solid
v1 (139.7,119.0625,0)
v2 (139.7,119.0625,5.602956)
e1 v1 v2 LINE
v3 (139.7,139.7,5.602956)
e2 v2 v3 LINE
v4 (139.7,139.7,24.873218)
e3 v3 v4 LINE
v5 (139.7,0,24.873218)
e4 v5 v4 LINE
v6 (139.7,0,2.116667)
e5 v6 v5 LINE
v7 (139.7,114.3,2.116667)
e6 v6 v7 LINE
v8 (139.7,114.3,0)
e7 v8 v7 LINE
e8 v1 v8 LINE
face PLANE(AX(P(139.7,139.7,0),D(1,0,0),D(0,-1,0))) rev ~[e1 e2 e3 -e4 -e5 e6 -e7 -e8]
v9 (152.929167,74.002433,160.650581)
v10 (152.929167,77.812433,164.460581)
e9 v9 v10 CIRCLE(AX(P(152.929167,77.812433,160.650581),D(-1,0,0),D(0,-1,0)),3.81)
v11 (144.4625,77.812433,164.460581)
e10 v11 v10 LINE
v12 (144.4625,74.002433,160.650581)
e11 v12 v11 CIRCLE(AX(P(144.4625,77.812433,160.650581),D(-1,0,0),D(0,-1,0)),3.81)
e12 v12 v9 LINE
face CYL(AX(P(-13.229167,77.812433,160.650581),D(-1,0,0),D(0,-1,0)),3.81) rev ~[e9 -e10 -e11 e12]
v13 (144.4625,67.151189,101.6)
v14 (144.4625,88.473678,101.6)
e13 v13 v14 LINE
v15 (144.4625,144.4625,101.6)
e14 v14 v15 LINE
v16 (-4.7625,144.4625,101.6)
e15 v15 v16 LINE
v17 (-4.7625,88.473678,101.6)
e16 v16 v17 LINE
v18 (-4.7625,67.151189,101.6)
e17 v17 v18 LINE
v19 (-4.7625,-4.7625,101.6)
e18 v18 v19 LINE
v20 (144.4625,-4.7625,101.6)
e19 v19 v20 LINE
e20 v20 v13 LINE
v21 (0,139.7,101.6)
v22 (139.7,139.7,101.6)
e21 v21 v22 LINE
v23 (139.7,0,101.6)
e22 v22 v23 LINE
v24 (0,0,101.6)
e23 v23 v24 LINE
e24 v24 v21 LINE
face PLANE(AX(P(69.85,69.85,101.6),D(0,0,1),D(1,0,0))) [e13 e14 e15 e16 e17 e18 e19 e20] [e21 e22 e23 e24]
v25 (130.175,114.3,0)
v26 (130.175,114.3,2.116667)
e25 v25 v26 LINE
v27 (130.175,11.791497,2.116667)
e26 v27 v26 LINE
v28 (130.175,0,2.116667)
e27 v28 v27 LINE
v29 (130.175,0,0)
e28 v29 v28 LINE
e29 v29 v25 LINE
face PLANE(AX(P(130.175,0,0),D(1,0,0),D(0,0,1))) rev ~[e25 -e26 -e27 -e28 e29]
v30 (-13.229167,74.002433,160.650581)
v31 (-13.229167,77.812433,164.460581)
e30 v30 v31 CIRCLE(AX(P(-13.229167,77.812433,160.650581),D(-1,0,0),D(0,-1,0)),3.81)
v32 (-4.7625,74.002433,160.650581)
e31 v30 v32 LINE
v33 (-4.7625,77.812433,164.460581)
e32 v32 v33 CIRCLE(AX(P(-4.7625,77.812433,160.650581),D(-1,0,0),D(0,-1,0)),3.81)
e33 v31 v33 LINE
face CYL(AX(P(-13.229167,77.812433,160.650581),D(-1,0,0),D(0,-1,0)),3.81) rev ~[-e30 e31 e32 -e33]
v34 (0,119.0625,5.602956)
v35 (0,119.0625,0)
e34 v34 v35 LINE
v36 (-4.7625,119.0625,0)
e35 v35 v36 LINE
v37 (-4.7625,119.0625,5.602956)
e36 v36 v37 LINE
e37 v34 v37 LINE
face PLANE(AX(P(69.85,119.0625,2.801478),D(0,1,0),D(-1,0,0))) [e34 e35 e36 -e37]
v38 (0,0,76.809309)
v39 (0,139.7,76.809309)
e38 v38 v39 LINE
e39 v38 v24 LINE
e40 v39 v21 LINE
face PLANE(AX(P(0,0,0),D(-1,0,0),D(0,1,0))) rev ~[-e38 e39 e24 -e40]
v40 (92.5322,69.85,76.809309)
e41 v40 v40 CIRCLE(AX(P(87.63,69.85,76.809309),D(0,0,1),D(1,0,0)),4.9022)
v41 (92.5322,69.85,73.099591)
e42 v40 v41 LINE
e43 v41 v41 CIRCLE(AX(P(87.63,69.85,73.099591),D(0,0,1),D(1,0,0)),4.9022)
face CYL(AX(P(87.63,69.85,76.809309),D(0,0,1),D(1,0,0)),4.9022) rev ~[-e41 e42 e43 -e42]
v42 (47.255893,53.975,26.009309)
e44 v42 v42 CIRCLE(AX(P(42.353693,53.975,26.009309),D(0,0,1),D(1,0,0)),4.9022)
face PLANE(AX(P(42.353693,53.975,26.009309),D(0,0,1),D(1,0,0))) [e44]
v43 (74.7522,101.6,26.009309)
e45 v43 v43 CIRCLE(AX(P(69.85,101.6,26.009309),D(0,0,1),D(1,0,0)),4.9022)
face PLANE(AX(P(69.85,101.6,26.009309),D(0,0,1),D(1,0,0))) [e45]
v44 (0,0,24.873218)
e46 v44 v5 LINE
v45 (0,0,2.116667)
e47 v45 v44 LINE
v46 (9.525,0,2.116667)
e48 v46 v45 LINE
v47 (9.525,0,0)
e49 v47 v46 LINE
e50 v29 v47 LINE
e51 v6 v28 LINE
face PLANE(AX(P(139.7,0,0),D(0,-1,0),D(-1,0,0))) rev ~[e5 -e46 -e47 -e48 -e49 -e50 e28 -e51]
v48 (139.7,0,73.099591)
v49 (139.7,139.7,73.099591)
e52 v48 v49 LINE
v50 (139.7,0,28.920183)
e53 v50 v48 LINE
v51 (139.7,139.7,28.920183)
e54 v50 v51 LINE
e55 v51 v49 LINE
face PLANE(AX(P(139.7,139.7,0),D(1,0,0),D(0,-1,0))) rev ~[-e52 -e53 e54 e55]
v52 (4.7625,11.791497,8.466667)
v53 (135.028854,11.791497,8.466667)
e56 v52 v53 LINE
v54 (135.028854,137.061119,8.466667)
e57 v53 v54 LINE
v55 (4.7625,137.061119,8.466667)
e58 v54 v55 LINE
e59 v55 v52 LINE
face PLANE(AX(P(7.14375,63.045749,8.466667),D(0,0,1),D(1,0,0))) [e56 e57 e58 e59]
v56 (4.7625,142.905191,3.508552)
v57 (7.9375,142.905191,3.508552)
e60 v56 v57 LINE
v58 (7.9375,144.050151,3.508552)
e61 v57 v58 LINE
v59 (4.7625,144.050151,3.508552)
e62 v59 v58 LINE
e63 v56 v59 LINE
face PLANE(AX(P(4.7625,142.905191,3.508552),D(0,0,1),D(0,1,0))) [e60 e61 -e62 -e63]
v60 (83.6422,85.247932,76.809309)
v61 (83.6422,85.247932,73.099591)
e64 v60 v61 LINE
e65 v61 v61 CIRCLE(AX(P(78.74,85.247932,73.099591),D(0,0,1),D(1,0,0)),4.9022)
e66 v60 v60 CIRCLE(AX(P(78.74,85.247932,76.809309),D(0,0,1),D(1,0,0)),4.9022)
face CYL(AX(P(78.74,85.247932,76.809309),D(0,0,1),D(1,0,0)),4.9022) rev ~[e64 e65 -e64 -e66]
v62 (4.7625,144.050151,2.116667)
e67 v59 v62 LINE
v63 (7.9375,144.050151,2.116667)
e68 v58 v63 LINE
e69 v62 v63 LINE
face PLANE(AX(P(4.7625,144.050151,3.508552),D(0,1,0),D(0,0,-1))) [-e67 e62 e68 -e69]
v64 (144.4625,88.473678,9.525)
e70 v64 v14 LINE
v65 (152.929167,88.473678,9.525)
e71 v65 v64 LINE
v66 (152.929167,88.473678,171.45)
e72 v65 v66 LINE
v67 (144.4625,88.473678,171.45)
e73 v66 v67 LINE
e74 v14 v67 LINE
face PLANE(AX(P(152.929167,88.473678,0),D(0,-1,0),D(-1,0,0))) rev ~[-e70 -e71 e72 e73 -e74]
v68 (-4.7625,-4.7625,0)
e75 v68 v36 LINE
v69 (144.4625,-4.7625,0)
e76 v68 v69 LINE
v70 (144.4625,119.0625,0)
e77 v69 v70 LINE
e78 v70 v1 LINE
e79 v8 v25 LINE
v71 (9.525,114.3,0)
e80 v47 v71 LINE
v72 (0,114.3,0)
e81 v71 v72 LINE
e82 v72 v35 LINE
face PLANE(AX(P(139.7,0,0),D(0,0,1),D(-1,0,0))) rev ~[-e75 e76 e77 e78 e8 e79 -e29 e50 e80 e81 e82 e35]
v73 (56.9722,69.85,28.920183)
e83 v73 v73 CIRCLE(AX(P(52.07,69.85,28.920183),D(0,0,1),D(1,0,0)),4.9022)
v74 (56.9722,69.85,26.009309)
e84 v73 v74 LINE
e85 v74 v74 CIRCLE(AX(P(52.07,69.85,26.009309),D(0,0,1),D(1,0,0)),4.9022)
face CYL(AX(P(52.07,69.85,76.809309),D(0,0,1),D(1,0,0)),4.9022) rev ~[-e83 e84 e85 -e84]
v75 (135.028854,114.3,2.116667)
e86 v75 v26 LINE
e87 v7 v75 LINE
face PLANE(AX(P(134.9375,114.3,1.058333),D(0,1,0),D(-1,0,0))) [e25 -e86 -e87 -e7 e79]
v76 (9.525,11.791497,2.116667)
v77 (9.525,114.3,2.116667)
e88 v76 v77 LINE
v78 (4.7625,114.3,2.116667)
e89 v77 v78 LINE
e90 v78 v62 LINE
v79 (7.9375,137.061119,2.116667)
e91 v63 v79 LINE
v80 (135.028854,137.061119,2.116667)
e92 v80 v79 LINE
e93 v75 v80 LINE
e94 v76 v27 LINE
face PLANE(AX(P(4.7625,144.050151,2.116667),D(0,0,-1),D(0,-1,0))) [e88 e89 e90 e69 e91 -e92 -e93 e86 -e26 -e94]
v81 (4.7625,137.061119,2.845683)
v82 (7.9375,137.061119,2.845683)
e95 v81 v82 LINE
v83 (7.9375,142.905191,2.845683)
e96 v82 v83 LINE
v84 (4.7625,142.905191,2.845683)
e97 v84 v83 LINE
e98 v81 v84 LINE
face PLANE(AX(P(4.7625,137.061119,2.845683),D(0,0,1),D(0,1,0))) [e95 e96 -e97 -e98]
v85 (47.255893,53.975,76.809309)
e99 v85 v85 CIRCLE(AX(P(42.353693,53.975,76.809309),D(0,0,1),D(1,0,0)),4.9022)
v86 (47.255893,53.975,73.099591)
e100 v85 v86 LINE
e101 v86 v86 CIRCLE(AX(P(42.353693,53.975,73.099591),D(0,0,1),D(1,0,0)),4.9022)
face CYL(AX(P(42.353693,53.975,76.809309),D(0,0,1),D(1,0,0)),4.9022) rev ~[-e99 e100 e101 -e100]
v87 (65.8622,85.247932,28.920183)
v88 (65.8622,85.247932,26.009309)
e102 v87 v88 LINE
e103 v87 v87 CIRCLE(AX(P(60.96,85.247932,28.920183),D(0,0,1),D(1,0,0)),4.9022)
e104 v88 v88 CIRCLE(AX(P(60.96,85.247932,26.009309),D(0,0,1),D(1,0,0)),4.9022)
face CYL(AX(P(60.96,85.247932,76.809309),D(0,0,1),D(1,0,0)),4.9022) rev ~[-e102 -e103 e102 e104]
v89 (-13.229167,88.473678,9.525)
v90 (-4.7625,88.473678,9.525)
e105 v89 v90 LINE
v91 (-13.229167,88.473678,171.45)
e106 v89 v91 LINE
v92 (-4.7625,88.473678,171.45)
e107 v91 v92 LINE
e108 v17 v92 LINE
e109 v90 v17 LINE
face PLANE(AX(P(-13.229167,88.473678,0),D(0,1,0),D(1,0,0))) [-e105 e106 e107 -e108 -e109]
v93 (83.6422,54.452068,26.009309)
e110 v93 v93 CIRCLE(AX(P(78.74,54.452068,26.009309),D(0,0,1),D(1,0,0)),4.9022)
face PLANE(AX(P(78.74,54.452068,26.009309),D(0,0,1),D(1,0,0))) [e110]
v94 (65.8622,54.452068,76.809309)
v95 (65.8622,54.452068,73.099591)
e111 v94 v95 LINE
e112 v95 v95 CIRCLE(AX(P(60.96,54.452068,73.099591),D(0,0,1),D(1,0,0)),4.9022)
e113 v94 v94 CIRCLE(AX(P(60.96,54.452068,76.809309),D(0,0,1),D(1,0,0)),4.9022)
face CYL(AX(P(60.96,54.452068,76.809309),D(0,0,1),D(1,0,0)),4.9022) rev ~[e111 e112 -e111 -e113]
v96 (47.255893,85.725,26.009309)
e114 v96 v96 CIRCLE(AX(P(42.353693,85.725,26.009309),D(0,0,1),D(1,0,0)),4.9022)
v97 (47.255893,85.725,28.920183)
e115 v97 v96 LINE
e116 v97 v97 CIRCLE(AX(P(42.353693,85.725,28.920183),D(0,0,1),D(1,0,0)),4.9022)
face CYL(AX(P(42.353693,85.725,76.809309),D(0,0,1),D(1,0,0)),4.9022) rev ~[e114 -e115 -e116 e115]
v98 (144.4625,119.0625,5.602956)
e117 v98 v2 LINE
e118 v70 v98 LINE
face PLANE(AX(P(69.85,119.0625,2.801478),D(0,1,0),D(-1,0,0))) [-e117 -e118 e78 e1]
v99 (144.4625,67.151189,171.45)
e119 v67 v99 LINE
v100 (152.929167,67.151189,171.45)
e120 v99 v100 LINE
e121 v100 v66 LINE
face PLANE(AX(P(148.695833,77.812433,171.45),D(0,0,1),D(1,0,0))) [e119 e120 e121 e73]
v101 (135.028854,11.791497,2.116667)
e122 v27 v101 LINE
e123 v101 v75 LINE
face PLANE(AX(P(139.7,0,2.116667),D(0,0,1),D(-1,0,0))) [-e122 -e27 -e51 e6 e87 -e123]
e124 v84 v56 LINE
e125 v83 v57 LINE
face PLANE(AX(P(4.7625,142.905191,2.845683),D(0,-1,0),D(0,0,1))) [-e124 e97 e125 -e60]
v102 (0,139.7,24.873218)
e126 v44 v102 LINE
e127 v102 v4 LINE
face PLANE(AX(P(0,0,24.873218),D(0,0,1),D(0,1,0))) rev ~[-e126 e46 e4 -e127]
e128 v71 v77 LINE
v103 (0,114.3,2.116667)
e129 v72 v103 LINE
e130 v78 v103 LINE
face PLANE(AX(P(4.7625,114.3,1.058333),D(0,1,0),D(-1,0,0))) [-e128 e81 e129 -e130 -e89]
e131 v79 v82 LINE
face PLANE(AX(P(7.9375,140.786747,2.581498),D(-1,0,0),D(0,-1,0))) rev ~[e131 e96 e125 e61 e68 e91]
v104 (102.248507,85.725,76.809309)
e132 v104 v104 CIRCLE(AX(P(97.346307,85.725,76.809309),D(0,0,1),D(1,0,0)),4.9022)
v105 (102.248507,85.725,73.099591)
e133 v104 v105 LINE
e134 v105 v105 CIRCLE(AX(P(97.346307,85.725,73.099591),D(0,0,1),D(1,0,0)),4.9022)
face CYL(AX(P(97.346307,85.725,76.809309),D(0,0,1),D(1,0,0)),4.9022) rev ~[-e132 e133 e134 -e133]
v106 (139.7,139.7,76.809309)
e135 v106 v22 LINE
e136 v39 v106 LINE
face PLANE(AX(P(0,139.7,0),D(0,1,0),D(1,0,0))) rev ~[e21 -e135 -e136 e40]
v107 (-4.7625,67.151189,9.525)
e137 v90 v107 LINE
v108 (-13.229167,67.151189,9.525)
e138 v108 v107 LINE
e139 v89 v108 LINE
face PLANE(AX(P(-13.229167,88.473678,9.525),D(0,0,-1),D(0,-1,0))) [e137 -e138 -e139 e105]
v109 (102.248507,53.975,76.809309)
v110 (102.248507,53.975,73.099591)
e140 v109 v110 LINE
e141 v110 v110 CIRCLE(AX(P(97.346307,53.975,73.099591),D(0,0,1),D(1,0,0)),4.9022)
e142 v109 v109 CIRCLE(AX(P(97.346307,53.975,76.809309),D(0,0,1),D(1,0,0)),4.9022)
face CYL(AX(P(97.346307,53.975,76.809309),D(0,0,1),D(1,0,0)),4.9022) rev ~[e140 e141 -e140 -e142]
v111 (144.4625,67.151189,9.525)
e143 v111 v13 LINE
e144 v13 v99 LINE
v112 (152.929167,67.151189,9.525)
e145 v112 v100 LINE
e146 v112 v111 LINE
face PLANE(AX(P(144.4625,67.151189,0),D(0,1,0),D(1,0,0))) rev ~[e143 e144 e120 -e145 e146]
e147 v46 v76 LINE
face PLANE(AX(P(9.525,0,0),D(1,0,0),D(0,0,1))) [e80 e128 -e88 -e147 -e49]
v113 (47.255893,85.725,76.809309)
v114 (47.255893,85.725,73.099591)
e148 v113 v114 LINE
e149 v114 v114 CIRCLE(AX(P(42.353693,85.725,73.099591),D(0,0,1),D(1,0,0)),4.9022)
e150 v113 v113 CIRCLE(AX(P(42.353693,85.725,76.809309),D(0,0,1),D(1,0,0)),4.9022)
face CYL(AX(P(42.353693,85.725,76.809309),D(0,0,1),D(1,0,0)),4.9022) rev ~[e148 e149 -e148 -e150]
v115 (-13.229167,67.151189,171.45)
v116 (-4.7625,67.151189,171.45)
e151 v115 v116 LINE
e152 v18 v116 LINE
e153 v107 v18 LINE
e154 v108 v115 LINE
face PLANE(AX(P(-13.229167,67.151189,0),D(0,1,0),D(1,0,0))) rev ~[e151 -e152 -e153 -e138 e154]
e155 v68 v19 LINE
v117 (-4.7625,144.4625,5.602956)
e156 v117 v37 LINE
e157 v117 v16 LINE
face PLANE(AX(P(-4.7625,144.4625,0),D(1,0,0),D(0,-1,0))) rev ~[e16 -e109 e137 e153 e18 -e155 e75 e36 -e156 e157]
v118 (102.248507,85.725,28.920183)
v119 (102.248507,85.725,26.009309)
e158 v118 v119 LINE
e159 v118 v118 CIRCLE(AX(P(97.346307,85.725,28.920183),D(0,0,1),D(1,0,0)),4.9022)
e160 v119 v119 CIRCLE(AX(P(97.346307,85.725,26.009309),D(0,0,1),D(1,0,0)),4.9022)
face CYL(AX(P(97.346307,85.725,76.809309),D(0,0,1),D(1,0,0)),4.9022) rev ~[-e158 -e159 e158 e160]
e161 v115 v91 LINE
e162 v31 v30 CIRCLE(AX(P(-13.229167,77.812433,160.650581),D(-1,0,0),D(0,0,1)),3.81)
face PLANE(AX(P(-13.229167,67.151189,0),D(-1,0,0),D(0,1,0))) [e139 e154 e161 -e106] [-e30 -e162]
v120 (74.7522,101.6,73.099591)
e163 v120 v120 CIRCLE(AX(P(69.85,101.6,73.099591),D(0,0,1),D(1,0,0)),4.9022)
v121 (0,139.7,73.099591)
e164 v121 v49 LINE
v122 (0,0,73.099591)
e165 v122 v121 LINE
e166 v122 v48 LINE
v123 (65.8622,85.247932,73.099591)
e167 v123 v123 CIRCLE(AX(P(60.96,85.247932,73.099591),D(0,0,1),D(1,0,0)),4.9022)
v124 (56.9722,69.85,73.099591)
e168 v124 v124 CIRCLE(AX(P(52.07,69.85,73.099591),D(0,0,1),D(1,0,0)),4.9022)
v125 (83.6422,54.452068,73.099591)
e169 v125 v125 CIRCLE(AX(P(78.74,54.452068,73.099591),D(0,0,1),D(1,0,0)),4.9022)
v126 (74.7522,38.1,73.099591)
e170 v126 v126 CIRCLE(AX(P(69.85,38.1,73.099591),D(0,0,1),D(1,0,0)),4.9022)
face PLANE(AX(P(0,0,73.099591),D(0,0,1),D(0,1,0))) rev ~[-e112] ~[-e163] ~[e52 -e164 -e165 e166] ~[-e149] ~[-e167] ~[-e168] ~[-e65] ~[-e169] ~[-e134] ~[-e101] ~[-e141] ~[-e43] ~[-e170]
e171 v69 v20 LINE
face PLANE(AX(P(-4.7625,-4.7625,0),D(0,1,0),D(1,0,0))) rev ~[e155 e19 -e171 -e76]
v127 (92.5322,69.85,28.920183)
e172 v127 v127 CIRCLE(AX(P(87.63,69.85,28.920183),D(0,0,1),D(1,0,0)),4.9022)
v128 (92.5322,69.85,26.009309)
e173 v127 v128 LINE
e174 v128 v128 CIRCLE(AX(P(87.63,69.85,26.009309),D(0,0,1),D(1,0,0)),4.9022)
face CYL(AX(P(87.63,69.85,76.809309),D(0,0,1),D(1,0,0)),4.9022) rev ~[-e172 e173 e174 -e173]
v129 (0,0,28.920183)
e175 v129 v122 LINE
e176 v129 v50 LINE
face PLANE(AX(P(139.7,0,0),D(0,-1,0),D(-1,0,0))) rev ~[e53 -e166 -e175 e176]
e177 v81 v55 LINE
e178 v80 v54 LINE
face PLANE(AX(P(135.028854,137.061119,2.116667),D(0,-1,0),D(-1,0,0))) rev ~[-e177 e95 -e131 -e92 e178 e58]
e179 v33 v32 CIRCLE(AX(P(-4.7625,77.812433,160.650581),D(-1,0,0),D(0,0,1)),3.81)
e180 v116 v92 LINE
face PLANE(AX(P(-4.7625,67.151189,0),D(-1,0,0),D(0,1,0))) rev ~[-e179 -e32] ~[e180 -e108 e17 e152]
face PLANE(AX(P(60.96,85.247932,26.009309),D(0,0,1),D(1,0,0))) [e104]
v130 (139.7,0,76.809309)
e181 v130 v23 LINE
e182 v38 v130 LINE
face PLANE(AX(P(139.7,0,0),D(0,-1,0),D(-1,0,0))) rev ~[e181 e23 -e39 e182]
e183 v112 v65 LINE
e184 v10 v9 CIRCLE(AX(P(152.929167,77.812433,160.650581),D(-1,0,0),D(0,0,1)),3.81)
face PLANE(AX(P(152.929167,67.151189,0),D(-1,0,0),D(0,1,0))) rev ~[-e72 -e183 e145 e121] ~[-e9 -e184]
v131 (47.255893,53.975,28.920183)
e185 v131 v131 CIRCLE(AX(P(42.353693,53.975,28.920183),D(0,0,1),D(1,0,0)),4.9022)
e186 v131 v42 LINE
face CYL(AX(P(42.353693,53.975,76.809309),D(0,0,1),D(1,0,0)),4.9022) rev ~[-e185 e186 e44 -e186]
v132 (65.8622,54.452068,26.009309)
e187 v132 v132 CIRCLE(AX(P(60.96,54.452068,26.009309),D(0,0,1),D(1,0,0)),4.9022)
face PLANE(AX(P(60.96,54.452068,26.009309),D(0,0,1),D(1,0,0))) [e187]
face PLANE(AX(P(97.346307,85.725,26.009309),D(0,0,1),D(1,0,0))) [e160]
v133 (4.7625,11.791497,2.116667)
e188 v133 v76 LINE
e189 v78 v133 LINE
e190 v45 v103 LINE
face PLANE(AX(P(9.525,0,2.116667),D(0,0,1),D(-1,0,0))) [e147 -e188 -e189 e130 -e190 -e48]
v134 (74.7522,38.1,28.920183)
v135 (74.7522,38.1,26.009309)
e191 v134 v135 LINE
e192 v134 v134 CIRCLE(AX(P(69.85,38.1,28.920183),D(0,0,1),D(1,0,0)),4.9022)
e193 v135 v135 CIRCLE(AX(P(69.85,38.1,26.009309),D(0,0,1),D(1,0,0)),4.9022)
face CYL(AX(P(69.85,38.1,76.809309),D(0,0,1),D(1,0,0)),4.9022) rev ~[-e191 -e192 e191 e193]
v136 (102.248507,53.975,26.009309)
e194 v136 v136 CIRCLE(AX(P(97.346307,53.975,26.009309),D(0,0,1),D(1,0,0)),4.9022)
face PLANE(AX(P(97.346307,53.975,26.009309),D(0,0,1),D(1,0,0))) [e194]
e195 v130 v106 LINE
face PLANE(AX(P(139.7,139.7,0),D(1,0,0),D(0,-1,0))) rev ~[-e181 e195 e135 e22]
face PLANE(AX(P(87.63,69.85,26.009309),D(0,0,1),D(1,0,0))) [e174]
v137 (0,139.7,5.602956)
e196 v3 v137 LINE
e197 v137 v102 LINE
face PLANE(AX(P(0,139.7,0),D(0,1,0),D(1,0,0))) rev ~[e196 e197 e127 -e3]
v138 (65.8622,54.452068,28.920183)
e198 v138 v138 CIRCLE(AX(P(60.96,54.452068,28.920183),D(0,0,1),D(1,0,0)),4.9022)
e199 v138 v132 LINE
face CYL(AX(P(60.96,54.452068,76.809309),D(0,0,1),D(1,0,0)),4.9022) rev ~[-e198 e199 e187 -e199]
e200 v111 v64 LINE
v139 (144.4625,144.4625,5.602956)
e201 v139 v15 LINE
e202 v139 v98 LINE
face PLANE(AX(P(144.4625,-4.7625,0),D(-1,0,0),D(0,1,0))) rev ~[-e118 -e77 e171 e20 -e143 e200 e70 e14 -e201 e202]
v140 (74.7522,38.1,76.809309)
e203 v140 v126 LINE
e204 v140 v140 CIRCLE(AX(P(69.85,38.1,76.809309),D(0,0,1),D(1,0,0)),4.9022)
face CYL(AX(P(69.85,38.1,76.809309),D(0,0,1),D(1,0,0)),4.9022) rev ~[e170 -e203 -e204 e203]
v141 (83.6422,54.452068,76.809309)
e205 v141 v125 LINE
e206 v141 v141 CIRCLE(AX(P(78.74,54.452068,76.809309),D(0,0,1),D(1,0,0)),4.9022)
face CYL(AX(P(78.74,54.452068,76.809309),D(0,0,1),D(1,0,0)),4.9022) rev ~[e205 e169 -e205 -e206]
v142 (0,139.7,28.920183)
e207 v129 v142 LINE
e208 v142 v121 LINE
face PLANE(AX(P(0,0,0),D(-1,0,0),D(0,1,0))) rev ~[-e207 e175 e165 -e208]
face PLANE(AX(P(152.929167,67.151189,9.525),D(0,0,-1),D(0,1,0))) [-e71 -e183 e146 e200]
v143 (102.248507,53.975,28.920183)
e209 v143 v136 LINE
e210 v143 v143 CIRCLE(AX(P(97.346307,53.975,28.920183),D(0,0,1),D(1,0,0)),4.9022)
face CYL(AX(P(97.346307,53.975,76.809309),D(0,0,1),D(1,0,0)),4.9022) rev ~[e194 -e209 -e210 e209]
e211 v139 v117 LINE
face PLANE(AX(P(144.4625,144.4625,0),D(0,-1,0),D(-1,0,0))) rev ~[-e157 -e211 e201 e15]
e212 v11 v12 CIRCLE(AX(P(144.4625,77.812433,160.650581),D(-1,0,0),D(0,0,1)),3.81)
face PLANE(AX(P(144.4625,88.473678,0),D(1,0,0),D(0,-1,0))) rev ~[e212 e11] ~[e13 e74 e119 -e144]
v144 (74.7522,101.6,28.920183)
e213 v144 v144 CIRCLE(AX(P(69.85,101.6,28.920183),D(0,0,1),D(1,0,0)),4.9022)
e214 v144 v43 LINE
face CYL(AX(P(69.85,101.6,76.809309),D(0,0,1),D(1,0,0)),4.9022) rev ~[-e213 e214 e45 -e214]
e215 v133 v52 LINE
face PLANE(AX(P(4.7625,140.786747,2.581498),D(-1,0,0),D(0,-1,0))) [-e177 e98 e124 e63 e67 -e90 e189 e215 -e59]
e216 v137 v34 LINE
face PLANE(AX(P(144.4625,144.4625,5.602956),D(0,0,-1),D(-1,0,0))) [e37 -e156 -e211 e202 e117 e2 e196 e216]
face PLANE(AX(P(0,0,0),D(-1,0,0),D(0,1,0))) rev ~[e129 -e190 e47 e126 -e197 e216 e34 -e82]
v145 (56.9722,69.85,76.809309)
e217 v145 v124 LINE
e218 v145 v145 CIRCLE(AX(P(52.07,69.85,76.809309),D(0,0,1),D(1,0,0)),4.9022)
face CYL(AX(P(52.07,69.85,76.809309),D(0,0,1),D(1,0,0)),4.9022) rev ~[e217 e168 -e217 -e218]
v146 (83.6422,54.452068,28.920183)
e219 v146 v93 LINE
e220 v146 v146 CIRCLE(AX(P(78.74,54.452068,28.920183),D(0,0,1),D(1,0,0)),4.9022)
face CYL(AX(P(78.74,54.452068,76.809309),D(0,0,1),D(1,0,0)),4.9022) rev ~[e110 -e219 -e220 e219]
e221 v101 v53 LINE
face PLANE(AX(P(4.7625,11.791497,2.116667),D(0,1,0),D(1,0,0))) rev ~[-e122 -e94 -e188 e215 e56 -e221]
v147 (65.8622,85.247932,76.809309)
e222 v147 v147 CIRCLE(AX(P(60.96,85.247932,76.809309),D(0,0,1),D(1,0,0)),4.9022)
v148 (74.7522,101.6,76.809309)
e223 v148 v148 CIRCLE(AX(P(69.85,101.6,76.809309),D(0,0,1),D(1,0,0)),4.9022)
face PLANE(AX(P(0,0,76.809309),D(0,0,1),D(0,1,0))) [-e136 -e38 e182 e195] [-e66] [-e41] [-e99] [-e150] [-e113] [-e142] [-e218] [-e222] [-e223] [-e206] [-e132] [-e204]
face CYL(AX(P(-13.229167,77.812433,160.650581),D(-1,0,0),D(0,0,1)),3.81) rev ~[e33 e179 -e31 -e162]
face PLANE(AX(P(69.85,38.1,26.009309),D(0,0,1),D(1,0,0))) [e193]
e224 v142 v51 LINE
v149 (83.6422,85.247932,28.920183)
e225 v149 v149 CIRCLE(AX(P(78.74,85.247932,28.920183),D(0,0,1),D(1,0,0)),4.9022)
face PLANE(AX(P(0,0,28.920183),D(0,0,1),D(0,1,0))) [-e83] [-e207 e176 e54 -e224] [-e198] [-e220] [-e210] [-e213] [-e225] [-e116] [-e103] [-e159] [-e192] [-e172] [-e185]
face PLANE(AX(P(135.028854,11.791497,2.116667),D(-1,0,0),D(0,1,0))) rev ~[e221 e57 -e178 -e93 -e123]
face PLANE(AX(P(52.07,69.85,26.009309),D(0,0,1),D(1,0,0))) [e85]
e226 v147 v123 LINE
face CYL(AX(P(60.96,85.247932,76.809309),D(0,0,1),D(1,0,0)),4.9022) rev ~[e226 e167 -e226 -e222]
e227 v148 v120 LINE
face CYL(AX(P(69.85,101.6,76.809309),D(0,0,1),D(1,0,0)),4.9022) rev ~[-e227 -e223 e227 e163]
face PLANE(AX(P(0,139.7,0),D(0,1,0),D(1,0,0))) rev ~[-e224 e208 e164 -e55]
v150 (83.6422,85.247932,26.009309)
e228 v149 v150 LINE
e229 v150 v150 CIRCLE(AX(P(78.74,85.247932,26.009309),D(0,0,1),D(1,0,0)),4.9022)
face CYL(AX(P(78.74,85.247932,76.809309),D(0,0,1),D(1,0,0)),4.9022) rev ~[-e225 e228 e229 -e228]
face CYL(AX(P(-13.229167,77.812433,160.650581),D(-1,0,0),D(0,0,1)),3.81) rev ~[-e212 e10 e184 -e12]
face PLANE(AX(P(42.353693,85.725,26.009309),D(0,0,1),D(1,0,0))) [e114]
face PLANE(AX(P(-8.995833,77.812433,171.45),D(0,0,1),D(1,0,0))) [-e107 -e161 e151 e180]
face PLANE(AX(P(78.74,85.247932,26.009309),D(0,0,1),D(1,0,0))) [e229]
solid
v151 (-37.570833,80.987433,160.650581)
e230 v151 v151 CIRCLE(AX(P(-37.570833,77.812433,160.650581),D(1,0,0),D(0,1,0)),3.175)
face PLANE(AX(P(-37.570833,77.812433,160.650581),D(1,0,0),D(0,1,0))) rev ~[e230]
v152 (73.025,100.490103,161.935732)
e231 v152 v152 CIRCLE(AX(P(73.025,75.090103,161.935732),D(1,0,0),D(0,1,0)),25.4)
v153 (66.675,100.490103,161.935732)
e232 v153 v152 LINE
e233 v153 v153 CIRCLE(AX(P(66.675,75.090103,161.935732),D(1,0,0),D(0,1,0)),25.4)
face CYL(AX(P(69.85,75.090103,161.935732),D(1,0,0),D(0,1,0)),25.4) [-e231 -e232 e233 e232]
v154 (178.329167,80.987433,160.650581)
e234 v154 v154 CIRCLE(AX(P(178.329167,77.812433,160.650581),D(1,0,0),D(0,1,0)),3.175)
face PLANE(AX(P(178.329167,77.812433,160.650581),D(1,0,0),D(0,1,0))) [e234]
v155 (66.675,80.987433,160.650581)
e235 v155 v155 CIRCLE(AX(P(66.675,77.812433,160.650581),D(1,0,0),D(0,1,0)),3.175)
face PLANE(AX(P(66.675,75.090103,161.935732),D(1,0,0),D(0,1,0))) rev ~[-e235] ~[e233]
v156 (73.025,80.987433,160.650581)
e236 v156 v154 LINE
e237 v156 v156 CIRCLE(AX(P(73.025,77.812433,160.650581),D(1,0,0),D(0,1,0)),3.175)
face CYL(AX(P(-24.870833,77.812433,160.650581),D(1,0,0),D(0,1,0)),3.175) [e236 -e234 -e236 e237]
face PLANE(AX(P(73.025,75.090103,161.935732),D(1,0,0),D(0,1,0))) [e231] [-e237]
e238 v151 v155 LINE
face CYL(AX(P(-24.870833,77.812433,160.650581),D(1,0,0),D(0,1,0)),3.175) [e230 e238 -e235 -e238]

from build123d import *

# Parameters (mm, degrees)
F1_DEPTH  = 101.6
F0_W      = 8.4666666667
F0_H      = 21.3224887848
F2_DEPTH  = 171.45
F3_W      = 21.3224887848
F3_H      = 9.525
F4_DEPTH  = 8.4666666667
F5_W      = 21.3224887848
F5_H      = 9.525
F6_DEPTH  = 8.4666666667
F8_DEPTH  = 177.8
F9_W      = 9.525
F9_H      = 2.1166666667
F10_DEPTH = 114.3
F11_W     = 149.225
F11_H     = 5.6029562838
F12_DEPTH = 25.4
F13_W     = 4.7625
F13_H     = 102.5085025311
F14_DEPTH = 6.35
F15_W     = 139.7
F15_H     = 3.709718585
F15_H_2   = 4.0469653904
F16_DEPTH = 139.7
F17_R     = 4.9022
F18_DEPTH = 25.4
F19_DEPTH = 50.8
F20_R     = 3.175
F21_DEPTH = 177.8
F22_DEPTH = 25.4
F23_DEPTH = 12.7
F26_R     = 25.4
F27_DEPTH = 3.175
F28_DEPTH = 3.175
F30_DEPTH = 3.175


with BuildPart() as f1:
    # F0 (on Top) → F1 (new body)
    with BuildSketch(Plane.XY):
        Polygon((-4.7625, 144.4625), (-4.7625, 139.7), (-4.7625, 88.4736776352), (-4.7625, 67.1511888504), (-4.7625, 0), (-4.7625, -4.7625), (0, -4.7625), (140.5986211039, -4.7625), (144.4625, -4.7625), (144.4625, 67.1511888504), (144.4625, 88.4736776352), (144.4625, 144.4625), (140.5986211039, 144.4625), align=None)
        Polygon((0, 0), (0, 139.7), (139.7, 139.7), (139.7, 95.25), (139.7, 69.85), (139.7, 0), align=None, mode=Mode.SUBTRACT)
    extrude(amount=F1_DEPTH)

    # F0 (on Top) → F2 (join)
    with BuildSketch(Plane.XY):
        Polygon((152.9291666667, 88.4736776352), (144.4625, 88.4736776352), (144.4625, 67.1511888504), (152.9291666667, 67.1511888504), (152.9291666667, 73.3702480793), align=None)
        with Locations((-8.9958333333, 77.8124332428)):
            Rectangle(F0_W, F0_H)
    extrude(amount=F2_DEPTH)

    # F3 (on face) → F4 (cut)
    with BuildSketch(Plane(origin=(-13.2291666667, 0, 0), x_dir=(0, -1, 0), z_dir=(-1, 0, 0))):
        with Locations((-77.8124332428, 4.7625)):
            Rectangle(F3_W, F3_H)
    extrude(amount=-F4_DEPTH, mode=Mode.SUBTRACT)

    # F5 (on face) → F6 (cut)
    with BuildSketch(Plane.YZ.offset(152.9291666667)):
        with Locations((77.8124332428, 4.7625)):
            Rectangle(F5_W, F5_H)
    extrude(amount=-F6_DEPTH, mode=Mode.SUBTRACT)

    # F7 (on face) → F8 (cut)
    with BuildSketch(Plane(origin=(-13.2291666667, 0, 0), x_dir=(0, -1, 0), z_dir=(-1, 0, 0))):
        with BuildLine():
            ThreePointArc((-74.0024332428, 160.6505811214), (-75.1183564065, 163.3446579578), (-77.8124332428, 164.4605811214))
            ThreePointArc((-77.8124332428, 164.4605811214), (-80.5065100791, 157.9565042851), (-74.0024332428, 160.6505811214))
        make_face()
    extrude(amount=-F8_DEPTH, mode=Mode.SUBTRACT)

    # F9 (on face) → F10 (join)
    with BuildSketch(Plane(origin=(0, 0, 0), x_dir=(-1, 0, 0), z_dir=(0, 1, 0))):
        with Locations((-134.9375, 1.0583333333)):
            Rectangle(F9_W, F9_H)
        with Locations((-4.7625, 1.0583333333)):
            Rectangle(F9_W, F9_H)
    extrude(amount=F10_DEPTH)

    # F11 (on face) → F12 (cut)
    with BuildSketch(Plane(origin=(0, 144.4625, 0), x_dir=(-1, 0, 0), z_dir=(0, 1, 0))):
        with Locations((-69.85, 2.8014781419)):
            Rectangle(F11_W, F11_H)
    extrude(amount=-F12_DEPTH, mode=Mode.SUBTRACT)

    # F13 (on face) → F14 (join)
    with BuildSketch(Plane.XY.offset(2.1166666667)):
        with Locations((7.14375, 63.0457487345)):
            Rectangle(F13_W, F13_H)
        Polygon((4.7625, 137.0611190796), (4.7625, 114.3), (9.525, 114.3), (9.525, 11.7914974689), (135.0288540125, 11.7914974689), (135.0288540125, 137.0611190796), align=None)
    extrude(amount=F14_DEPTH)

    # F15 (on face) → F16 (join)
    with BuildSketch(Plane.YZ):
        with Locations((69.85, 74.9544501305)):
            Rectangle(F15_W, F15_H)
        with Locations((69.85, 26.896700263)):
            Rectangle(F15_W, F15_H_2)
    extrude(amount=F16_DEPTH)

    # F17 (on face) → F18 (cut)
    with BuildSketch(Plane.XY.offset(76.809309423)):
        with Locations((87.63, 69.85)):
            Circle(F17_R)
        with Locations((78.74, 85.2479316793)):
            Circle(F17_R)
        with Locations((60.96, 85.2479316793)):
            Circle(F17_R)
        with Locations((52.07, 69.85)):
            Circle(F17_R)
        with Locations((60.96, 54.4520683207)):
            Circle(F17_R)
        with Locations((78.74, 54.4520683207)):
            Circle(F17_R)
        with Locations((69.85, 101.6)):
            Circle(F17_R)
        with Locations((42.3536934298, 85.725)):
            Circle(F17_R)
        with Locations((42.3536934298, 53.975)):
            Circle(F17_R)
        with Locations((69.85, 38.1)):
            Circle(F17_R)
        with Locations((97.3463065702, 53.975)):
            Circle(F17_R)
        with Locations((97.3463065702, 85.725)):
            Circle(F17_R)
    extrude(amount=F18_DEPTH, mode=Mode.SUBTRACT)

    # F17 (on face) → F19 (cut)
    with BuildSketch(Plane.XY.offset(76.809309423)):
        with Locations((87.63, 69.85)):
            Circle(F17_R)
        with Locations((78.74, 85.2479316793)):
            Circle(F17_R)
        with Locations((60.96, 85.2479316793)):
            Circle(F17_R)
        with Locations((52.07, 69.85)):
            Circle(F17_R)
        with Locations((60.96, 54.4520683207)):
            Circle(F17_R)
        with Locations((78.74, 54.4520683207)):
            Circle(F17_R)
        with Locations((69.85, 101.6)):
            Circle(F17_R)
        with Locations((42.3536934298, 85.725)):
            Circle(F17_R)
        with Locations((42.3536934298, 53.975)):
            Circle(F17_R)
        with Locations((69.85, 38.1)):
            Circle(F17_R)
        with Locations((97.3463065702, 53.975)):
            Circle(F17_R)
        with Locations((97.3463065702, 85.725)):
            Circle(F17_R)
    extrude(amount=-F19_DEPTH, mode=Mode.SUBTRACT)

    # F29 (on face) → F30 (join)
    with BuildSketch(Plane(origin=(4.7625, 0, 0), x_dir=(0, -1, 0), z_dir=(-1, 0, 0))):
        Polygon((-144.0501511097, 2.1166666667), (-137.0611190796, 2.1166666667), (-137.0611190796, 2.8456826694), (-142.905190587, 2.8456826694), (-142.905190587, 3.5085524432), (-144.0501511097, 3.5085524432), align=None)
    extrude(amount=-F30_DEPTH)


with BuildPart() as f21:
    # F20 (on face) → F21 (new body)
    with BuildSketch(Plane.YZ.offset(152.9291666667)):
        with Locations((77.8124332428, 160.6505811214)):
            Circle(F20_R)
    extrude(amount=-F21_DEPTH)

    # F22 (add): a face of the model
    f22_faces = [f21.faces().sort_by_distance(p)[0] for p in [
        (152.9291666667, 77.8124332428, 160.6505811214),
    ]]
    extrude(f22_faces, amount=F22_DEPTH)

    # F23 (add): a face of the model
    f23_faces = [f21.faces().sort_by_distance(p)[0] for p in [
        (-24.8708333333, 77.8124332428, 160.6505811214),
    ]]
    extrude(f23_faces, amount=F23_DEPTH)

    # F26 (on plane+point) → F27 (join)
    with BuildSketch(Plane.YZ.offset(69.85)):
        with Locations((75.0901028514, 161.9357317686)):
            Circle(F26_R)
    extrude(amount=F27_DEPTH)

    # F28 (add): a face of the model
    f28_faces = [f21.faces().sort_by_distance(p)[0] for p in [
        (69.85, 50.4085233411, 161.9357317686),
    ]]
    extrude(f28_faces, amount=F28_DEPTH)


solid = Compound([f1.part, f21.part])
